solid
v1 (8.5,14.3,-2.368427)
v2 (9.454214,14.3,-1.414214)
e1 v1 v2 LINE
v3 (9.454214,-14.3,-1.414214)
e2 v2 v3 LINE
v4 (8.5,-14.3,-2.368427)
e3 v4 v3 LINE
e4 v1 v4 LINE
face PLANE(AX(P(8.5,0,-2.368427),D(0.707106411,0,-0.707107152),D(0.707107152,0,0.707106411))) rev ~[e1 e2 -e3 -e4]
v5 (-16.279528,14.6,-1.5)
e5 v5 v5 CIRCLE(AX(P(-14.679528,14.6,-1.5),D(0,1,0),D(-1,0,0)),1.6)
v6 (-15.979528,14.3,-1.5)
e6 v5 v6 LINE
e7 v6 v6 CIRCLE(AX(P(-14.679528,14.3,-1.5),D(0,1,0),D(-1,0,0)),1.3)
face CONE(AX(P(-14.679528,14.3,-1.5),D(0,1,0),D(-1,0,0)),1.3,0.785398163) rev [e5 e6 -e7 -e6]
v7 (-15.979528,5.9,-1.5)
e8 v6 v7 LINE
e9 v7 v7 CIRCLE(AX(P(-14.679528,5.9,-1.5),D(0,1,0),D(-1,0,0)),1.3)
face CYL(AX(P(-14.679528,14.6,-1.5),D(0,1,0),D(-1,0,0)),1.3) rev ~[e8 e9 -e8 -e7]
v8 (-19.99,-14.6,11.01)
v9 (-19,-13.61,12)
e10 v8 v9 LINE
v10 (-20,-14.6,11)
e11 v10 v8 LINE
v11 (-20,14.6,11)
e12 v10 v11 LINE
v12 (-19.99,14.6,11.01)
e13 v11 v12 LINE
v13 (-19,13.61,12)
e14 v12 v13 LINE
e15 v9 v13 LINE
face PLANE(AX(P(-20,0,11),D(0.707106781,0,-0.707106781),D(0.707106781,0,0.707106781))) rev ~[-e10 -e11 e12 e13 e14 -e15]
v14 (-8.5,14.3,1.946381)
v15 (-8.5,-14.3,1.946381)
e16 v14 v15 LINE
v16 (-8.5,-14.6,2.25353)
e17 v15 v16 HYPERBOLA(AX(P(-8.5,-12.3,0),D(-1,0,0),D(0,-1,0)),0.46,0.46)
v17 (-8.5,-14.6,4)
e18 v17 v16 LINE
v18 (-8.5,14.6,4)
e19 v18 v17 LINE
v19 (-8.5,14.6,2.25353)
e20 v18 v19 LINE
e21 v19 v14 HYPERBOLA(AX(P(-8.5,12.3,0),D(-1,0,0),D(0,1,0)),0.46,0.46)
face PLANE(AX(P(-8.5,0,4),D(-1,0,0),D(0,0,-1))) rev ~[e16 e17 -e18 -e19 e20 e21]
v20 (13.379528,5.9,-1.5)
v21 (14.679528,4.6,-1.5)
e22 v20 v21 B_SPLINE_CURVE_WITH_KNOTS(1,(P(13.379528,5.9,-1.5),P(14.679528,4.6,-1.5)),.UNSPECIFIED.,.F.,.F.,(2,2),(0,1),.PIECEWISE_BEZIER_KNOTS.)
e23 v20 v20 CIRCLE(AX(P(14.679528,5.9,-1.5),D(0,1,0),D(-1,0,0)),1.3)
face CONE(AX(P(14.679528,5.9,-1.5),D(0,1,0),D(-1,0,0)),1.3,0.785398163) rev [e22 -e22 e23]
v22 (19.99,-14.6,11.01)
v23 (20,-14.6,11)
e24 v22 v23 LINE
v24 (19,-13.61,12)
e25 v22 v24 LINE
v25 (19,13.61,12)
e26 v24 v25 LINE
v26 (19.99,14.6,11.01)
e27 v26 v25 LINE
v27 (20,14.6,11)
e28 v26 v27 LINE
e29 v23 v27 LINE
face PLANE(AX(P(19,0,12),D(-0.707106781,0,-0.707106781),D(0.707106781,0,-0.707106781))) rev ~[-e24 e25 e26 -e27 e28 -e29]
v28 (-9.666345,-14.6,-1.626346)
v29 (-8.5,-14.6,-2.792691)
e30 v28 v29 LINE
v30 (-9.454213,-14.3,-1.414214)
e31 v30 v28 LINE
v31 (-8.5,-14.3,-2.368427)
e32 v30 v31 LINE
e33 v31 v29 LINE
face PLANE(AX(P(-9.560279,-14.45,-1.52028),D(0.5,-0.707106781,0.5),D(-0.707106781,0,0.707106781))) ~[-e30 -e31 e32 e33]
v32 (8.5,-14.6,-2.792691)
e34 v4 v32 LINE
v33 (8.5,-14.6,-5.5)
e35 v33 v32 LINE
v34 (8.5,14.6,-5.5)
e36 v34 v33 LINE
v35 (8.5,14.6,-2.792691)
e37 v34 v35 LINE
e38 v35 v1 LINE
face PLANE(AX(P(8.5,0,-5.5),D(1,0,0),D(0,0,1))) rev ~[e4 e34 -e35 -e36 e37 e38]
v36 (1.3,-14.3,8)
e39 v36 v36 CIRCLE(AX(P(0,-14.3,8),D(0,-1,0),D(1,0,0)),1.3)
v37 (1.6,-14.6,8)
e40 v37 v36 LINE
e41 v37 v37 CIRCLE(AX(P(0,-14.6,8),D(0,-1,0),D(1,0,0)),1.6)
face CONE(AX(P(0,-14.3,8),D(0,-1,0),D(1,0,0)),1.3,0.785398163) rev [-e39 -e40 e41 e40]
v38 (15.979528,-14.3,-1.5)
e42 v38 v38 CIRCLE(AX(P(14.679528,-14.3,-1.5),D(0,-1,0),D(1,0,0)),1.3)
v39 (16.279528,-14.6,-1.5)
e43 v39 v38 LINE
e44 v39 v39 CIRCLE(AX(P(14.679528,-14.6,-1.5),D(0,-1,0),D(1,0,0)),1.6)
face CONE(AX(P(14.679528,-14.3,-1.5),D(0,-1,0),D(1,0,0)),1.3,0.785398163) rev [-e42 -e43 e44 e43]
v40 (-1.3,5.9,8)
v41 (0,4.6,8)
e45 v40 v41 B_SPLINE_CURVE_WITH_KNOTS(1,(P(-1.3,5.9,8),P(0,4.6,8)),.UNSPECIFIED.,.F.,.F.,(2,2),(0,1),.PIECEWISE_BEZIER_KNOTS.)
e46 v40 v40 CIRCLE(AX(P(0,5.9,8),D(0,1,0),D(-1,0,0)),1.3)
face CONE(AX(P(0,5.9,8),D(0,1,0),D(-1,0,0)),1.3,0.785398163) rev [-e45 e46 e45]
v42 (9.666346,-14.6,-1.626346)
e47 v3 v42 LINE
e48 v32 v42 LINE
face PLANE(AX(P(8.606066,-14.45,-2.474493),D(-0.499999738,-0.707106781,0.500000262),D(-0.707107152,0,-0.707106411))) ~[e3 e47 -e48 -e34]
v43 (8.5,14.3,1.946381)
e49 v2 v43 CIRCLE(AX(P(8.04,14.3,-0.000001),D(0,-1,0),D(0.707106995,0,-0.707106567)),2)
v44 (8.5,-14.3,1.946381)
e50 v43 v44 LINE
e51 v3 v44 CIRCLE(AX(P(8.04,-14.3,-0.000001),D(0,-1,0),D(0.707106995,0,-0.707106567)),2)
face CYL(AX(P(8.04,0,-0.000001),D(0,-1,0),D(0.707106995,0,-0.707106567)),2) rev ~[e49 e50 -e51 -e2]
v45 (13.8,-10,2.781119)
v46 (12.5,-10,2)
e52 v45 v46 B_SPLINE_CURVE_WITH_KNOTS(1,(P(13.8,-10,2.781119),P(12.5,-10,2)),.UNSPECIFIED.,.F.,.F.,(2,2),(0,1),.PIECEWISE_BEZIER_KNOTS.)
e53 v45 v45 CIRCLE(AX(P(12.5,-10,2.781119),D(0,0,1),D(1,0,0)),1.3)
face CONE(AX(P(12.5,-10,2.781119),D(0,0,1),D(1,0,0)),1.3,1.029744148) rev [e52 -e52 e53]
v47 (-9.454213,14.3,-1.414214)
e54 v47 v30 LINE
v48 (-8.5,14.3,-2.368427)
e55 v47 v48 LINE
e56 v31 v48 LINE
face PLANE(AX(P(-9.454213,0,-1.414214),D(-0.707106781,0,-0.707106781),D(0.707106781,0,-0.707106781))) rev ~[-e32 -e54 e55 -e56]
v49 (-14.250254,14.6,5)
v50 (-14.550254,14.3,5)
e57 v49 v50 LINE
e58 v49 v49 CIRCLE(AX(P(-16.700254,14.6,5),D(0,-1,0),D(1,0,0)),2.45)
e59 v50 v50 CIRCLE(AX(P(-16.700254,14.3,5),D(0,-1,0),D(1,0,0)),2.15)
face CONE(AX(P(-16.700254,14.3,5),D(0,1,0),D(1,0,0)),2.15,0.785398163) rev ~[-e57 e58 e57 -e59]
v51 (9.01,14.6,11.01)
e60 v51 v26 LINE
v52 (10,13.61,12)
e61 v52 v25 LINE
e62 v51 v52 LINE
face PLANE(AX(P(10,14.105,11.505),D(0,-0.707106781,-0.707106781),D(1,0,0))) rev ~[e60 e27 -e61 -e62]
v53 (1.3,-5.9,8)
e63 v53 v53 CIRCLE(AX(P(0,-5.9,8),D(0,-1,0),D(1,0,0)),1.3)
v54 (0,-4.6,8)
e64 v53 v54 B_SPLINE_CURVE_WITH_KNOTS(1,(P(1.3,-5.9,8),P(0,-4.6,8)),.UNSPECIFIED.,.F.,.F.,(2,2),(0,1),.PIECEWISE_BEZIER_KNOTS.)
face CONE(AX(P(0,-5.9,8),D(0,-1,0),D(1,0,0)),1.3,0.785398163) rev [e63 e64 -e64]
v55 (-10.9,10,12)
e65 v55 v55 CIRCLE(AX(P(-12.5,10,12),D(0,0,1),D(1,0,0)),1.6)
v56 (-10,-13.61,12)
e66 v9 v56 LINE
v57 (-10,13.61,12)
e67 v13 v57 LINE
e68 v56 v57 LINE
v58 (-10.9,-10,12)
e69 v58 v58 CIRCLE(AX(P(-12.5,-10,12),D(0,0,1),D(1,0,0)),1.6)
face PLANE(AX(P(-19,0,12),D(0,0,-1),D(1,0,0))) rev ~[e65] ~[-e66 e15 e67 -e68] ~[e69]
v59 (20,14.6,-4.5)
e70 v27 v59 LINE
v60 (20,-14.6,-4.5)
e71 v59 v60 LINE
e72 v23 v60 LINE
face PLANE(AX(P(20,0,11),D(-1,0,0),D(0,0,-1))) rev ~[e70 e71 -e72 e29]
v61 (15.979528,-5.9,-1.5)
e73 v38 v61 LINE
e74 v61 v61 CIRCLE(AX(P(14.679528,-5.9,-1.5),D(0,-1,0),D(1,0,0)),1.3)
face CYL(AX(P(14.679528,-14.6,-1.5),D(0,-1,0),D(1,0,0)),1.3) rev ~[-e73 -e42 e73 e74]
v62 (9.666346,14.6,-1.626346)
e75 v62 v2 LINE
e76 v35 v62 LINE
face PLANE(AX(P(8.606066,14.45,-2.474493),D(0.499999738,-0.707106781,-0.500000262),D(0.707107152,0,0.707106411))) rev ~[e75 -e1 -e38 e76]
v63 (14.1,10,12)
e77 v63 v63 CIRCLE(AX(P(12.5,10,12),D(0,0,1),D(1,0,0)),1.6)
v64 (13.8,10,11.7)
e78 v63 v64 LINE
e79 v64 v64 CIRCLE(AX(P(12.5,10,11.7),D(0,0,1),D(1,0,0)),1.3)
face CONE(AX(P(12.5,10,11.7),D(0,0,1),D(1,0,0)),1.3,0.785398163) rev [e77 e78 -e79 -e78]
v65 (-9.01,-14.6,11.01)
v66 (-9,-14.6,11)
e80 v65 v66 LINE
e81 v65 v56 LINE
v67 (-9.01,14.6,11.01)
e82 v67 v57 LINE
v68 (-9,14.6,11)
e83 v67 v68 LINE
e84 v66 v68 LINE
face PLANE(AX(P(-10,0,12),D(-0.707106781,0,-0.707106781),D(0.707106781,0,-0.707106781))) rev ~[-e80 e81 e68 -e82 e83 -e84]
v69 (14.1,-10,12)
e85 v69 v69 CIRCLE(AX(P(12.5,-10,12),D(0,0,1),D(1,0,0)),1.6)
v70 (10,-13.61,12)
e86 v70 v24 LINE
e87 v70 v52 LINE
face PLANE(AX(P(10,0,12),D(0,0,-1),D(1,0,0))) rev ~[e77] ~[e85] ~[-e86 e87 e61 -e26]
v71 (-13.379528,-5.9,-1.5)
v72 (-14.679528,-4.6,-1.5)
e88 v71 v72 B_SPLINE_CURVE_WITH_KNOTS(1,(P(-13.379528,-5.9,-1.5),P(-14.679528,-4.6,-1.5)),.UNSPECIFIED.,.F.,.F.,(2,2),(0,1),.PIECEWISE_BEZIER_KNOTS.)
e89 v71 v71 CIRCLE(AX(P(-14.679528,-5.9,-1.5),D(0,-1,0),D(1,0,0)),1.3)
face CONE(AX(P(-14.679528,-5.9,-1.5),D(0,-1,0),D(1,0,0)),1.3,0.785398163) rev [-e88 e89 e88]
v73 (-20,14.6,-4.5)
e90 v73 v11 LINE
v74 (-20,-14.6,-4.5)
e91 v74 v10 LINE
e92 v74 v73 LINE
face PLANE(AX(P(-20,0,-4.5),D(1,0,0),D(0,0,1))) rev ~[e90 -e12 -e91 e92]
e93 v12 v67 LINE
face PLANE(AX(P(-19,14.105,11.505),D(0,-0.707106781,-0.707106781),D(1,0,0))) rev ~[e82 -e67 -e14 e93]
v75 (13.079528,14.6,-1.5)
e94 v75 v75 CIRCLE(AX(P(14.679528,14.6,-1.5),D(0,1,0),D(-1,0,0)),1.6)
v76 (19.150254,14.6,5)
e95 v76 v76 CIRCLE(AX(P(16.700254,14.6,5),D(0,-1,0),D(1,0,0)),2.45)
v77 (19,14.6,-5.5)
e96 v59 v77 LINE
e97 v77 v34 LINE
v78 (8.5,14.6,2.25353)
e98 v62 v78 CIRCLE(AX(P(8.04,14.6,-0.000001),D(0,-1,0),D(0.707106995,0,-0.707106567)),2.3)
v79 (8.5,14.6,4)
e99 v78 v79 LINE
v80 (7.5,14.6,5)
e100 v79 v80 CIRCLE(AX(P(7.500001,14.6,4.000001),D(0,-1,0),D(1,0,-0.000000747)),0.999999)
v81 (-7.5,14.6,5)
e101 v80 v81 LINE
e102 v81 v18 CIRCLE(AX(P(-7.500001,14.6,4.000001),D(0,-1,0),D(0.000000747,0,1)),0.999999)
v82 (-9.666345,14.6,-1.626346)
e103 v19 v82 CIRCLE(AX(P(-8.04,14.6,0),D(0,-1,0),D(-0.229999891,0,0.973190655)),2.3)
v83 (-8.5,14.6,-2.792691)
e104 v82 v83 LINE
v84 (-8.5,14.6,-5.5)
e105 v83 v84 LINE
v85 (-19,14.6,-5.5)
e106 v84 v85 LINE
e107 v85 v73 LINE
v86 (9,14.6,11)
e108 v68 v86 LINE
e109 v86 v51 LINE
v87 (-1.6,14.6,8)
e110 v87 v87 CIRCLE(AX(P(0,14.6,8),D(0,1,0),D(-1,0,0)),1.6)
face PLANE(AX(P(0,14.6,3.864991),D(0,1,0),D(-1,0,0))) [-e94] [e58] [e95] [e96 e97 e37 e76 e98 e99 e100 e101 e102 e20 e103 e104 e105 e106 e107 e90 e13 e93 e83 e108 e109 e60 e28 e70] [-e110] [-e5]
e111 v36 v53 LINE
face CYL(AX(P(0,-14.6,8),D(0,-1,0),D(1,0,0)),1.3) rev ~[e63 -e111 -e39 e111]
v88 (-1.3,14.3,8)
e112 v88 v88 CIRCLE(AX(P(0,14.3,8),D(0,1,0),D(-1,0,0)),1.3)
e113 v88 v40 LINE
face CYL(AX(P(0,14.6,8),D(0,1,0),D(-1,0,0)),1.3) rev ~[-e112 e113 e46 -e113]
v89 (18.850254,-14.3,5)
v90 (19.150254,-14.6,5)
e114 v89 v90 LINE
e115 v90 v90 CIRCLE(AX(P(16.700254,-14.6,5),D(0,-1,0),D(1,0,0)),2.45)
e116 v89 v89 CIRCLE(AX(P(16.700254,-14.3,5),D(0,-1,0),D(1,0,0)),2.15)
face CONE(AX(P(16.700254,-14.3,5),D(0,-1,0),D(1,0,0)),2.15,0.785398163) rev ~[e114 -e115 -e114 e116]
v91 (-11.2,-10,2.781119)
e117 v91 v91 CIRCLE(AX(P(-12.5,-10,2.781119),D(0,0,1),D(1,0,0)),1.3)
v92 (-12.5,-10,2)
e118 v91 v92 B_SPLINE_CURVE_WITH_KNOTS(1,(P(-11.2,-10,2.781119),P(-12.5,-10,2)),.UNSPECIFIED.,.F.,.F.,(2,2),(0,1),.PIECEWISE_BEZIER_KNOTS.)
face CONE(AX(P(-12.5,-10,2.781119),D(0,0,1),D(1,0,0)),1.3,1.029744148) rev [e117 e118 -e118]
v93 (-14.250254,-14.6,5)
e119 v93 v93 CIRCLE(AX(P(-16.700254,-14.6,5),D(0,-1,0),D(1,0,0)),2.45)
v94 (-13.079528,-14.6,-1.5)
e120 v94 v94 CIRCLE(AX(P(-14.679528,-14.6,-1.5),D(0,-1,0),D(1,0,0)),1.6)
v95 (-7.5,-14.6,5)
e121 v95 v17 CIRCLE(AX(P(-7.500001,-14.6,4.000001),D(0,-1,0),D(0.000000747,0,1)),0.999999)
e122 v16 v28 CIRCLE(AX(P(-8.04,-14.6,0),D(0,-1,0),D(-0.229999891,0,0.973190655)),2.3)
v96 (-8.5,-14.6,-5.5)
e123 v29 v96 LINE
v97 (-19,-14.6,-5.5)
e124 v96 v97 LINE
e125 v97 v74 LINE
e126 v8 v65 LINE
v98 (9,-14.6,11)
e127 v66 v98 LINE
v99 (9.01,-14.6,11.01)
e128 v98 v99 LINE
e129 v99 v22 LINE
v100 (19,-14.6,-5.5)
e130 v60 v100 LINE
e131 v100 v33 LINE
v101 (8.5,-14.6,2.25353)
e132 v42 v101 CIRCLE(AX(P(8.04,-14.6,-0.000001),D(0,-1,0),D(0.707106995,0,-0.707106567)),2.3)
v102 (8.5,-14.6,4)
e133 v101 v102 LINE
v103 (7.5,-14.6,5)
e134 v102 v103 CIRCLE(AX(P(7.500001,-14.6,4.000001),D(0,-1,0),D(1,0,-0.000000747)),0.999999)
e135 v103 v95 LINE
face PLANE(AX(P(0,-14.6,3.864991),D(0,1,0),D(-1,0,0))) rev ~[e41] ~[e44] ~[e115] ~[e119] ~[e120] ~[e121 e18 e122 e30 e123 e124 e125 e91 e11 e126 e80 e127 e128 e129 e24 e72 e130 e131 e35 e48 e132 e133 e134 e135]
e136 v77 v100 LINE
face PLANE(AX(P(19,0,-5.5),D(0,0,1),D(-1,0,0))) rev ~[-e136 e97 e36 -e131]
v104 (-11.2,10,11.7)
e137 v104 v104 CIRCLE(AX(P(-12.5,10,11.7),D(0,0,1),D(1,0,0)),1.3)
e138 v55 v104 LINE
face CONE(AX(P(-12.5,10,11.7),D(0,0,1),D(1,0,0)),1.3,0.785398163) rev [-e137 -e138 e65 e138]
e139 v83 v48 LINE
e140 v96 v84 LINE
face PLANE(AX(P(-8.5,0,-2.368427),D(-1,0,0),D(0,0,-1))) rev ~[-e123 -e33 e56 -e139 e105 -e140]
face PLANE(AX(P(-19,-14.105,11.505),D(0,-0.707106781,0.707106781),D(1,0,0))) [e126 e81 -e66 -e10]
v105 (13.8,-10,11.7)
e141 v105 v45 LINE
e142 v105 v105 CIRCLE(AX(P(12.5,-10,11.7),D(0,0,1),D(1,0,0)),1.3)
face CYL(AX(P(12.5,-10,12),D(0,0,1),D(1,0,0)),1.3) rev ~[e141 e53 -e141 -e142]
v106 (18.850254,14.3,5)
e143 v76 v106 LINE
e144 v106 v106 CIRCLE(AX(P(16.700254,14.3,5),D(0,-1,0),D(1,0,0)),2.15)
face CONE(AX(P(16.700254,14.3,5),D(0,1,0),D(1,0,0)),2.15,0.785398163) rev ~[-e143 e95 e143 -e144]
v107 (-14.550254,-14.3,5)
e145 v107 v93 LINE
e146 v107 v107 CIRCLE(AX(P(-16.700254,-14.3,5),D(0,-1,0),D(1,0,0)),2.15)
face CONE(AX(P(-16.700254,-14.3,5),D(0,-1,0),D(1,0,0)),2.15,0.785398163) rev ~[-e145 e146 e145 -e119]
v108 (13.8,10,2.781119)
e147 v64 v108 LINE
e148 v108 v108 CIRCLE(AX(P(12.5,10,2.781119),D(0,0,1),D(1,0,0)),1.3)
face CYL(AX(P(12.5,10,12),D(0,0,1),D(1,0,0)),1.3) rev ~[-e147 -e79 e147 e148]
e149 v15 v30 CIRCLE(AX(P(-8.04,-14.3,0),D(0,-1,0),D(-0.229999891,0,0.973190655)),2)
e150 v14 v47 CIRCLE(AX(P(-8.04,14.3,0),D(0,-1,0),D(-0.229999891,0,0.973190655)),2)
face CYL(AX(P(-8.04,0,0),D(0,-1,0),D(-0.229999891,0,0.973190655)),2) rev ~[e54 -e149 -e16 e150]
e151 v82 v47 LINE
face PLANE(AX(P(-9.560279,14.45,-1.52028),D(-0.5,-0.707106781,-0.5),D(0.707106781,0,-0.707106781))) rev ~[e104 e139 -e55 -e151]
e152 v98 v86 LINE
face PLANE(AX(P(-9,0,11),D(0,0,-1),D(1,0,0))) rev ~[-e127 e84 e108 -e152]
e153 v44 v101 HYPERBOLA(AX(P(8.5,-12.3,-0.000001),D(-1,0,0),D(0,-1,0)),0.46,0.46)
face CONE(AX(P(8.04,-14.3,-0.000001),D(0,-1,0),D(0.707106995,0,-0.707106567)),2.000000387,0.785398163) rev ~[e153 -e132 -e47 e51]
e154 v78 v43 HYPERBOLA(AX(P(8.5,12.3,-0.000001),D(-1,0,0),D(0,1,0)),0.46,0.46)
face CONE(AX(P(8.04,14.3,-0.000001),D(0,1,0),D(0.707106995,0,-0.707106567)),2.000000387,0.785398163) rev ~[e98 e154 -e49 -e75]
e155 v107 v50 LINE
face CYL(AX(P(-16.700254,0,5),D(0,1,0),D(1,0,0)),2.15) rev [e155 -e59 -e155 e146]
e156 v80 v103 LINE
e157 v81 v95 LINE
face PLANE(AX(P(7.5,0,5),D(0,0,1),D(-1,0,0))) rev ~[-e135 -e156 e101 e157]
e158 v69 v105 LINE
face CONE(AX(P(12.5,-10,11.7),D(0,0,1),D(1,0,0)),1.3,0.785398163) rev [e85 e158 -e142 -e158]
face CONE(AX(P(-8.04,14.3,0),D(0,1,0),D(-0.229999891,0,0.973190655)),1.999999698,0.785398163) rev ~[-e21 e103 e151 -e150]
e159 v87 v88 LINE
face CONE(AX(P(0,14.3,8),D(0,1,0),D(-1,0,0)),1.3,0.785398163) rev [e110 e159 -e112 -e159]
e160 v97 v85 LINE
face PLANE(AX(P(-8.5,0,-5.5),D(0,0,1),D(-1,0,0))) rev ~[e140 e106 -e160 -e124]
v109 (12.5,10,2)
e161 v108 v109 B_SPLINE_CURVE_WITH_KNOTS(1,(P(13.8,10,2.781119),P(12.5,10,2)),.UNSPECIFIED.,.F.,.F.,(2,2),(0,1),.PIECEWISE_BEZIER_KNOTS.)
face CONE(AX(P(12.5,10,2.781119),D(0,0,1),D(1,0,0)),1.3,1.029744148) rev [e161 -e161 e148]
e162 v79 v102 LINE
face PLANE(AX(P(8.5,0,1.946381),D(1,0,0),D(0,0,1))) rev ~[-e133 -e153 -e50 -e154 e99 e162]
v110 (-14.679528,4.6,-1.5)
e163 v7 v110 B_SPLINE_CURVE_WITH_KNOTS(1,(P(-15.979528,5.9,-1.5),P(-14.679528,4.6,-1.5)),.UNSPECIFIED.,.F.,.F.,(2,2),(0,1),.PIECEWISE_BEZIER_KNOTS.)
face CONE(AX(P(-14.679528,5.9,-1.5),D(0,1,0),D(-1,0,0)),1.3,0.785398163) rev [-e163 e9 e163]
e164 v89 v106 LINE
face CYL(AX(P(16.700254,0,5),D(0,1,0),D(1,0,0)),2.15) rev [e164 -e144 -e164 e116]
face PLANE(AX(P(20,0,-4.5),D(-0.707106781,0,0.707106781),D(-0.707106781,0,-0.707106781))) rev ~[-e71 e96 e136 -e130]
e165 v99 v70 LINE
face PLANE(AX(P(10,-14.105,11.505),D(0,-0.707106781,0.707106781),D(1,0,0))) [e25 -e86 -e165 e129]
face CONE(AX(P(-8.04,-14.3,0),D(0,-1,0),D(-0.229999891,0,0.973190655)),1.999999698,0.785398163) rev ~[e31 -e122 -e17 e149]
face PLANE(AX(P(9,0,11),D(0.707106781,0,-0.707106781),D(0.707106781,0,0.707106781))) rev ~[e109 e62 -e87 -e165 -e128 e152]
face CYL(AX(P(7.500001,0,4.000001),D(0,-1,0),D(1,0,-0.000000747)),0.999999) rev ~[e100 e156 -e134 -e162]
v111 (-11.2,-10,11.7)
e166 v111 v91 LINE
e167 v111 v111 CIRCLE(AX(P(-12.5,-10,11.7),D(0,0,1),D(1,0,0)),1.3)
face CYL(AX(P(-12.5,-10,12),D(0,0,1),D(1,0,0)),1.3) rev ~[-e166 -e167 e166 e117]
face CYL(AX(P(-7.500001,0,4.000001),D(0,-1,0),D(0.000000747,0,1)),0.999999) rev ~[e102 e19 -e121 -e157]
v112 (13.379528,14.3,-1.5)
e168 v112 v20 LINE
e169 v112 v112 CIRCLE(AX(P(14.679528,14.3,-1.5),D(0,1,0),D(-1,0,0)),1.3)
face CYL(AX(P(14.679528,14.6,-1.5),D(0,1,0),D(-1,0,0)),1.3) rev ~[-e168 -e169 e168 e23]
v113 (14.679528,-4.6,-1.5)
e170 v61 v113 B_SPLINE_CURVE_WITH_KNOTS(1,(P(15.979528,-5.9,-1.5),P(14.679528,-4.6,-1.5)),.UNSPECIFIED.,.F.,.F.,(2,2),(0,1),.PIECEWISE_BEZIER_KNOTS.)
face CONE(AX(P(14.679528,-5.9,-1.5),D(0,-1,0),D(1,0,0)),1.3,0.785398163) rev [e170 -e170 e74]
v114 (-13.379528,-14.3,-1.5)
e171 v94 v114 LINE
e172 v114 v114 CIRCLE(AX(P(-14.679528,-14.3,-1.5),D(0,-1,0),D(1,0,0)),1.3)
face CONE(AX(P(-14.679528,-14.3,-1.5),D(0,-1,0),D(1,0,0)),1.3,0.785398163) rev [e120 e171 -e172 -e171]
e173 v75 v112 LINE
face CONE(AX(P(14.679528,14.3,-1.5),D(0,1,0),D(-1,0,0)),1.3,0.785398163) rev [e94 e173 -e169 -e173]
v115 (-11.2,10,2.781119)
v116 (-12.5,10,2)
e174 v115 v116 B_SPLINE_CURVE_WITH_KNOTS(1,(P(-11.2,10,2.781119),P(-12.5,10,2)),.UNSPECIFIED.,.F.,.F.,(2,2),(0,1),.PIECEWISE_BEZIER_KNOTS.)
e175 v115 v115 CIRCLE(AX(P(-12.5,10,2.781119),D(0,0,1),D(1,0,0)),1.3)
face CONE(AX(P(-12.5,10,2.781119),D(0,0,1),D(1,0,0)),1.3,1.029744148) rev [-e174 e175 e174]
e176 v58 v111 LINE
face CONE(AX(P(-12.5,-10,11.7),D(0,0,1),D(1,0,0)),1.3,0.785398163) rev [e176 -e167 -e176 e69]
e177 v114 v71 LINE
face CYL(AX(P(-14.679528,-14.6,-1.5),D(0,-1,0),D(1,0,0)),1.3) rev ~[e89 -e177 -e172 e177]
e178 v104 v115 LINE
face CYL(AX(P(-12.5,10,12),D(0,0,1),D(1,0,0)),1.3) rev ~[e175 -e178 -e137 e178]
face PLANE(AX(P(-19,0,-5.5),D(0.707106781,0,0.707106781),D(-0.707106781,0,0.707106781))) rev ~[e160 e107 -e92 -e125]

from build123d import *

# Parameters (mm, degrees)
SKETCH034_R     = 2.15
PAD006_DEPTH    = 14.6
SKETCH035_R     = 1.3
HOLE_DEPTH      = 8.7
HOLE_TIPS_R     = 1.3
SKETCH036_R     = 1.3
HOLE001_DEPTH   = 8.7
HOLE001_TIPS_R  = 1.3
SKETCH037_R     = 1.3
HOLE002_DEPTH   = 9.218881
HOLE002_TIPS_R  = 1.3
CHAMFER_SIZE    = 0.99
CHAMFER011_SIZE = 0.3


with BuildPart() as part:
    # Sketch034 → Pad006 (new body, symmetric)
    with BuildSketch(Plane.XZ):
        with BuildLine():
            Line((-9.454213, -1.414214), (-8.5, -2.368427))
            Line((-8.5, -2.368427), (-8.5, -5.5))
            Line((-8.5, -5.5), (-19, -5.5))
            Line((-19, -5.5), (-20, -4.5))
            Line((-20, -4.5), (-20, 11))
            Line((-20, 11), (-19, 12))
            Line((-19, 12), (-10, 12))
            Line((-10, 12), (-9, 11))
            Line((-9, 11), (9, 11))
            Line((9, 11), (10, 12))
            Line((10, 12), (19, 12))
            Line((19, 12), (20, 11))
            Line((20, 11), (20, -4.5))
            Line((20, -4.5), (19, -5.5))
            Line((19, -5.5), (8.5, -5.5))
            Line((8.5, -5.5), (8.5, -2.368427))
            Line((8.5, -2.368427), (9.454214, -1.414214))
            ThreePointArc((9.454214, -1.414214), (9.963946, 0.546289), (8.5, 1.946381))
            Line((8.5, 1.946381), (8.5, 4))
            ThreePointArc((8.5, 4), (8.207107, 4.707107), (7.5, 5))
            Line((7.5, 5), (-7.5, 5))
            ThreePointArc((-7.5, 5), (-8.207107, 4.707107), (-8.5, 4))
            Line((-8.5, 4), (-8.5, 1.946381))
            ThreePointArc((-8.5, 1.946381), (-9.963946, 0.546289), (-9.454213, -1.414214))
        make_face()
        with Locations((-16.700254, 5)):
            Circle(SKETCH034_R, mode=Mode.SUBTRACT)
        with Locations((16.700254, 5)):
            Circle(SKETCH034_R, mode=Mode.SUBTRACT)
    extrude(amount=PAD006_DEPTH, both=True)

    # Sketch035 → Hole (cut)
    with BuildSketch(Plane.XZ.offset(14.6)):
        with Locations((-14.679528, -1.5)):
            Circle(SKETCH035_R)
        with Locations((14.679528, -1.5)):
            Circle(SKETCH035_R)
        with Locations((0, 8)):
            Circle(SKETCH035_R)
    extrude(amount=-HOLE_DEPTH, mode=Mode.SUBTRACT)

    # Hole tips → Hole tip 1 section 0
    with BuildSketch(Plane.XZ.offset(5.9), mode=Mode.PRIVATE) as hole_tip_1_s0:
        with Locations((-14.679528, -1.5)):
            Circle(HOLE_TIPS_R)
    loft([hole_tip_1_s0.sketch, Vertex(-14.679528, -4.6, -1.5)], mode=Mode.SUBTRACT)

    # Hole tips → Hole tip 2 section 0
    with BuildSketch(Plane.XZ.offset(5.9), mode=Mode.PRIVATE) as hole_tip_2_s0:
        with Locations((14.679528, -1.5)):
            Circle(HOLE_TIPS_R)
    loft([hole_tip_2_s0.sketch, Vertex(14.679528, -4.6, -1.5)], mode=Mode.SUBTRACT)

    # Hole tips → Hole tip 3 section 0
    with BuildSketch(Plane.XZ.offset(5.9), mode=Mode.PRIVATE) as hole_tip_3_s0:
        with Locations((0, 8)):
            Circle(HOLE_TIPS_R)
    loft([hole_tip_3_s0.sketch, Vertex(0, -4.6, 8)], mode=Mode.SUBTRACT)

    # Sketch036 → Hole001 (cut)
    with BuildSketch(Plane(origin=(0, 14.6, 0), x_dir=(-1, 0, 0), z_dir=(0, 1, 0))):
        with Locations((14.679528, -1.5)):
            Circle(SKETCH036_R)
        with Locations((-14.679528, -1.5)):
            Circle(SKETCH036_R)
        with Locations((0, 8)):
            Circle(SKETCH036_R)
    extrude(amount=-HOLE001_DEPTH, mode=Mode.SUBTRACT)

    # Hole001 tips → Hole001 tip 1 section 0
    with BuildSketch(Plane(origin=(0, 5.9, 0), x_dir=(-1, 0, 0), z_dir=(0, 1, 0)), mode=Mode.PRIVATE) as hole001_tip_1_s0:
        with Locations((14.679528, -1.5)):
            Circle(HOLE001_TIPS_R)
    loft([hole001_tip_1_s0.sketch, Vertex(-14.679528, 4.6, -1.5)], mode=Mode.SUBTRACT)

    # Hole001 tips → Hole001 tip 2 section 0
    with BuildSketch(Plane(origin=(0, 5.9, 0), x_dir=(-1, 0, 0), z_dir=(0, 1, 0)), mode=Mode.PRIVATE) as hole001_tip_2_s0:
        with Locations((-14.679528, -1.5)):
            Circle(HOLE001_TIPS_R)
    loft([hole001_tip_2_s0.sketch, Vertex(14.679528, 4.6, -1.5)], mode=Mode.SUBTRACT)

    # Hole001 tips → Hole001 tip 3 section 0
    with BuildSketch(Plane(origin=(0, 5.9, 0), x_dir=(-1, 0, 0), z_dir=(0, 1, 0)), mode=Mode.PRIVATE) as hole001_tip_3_s0:
        with Locations((0, 8)):
            Circle(HOLE001_TIPS_R)
    loft([hole001_tip_3_s0.sketch, Vertex(0, 4.6, 8)], mode=Mode.SUBTRACT)

    # Sketch037 → Hole002 (cut)
    with BuildSketch(Plane.XY.offset(12)):
        with Locations((-12.5, 10)):
            Circle(SKETCH037_R)
        with Locations((12.5, 10)):
            Circle(SKETCH037_R)
        with Locations((12.5, -10)):
            Circle(SKETCH037_R)
        with Locations((-12.5, -10)):
            Circle(SKETCH037_R)
    extrude(amount=-HOLE002_DEPTH, mode=Mode.SUBTRACT)

    # Hole002 tips → Hole002 tip 1 section 0
    with BuildSketch(Plane.XY.offset(2.781119), mode=Mode.PRIVATE) as hole002_tip_1_s0:
        with Locations((-12.5, 10)):
            Circle(HOLE002_TIPS_R)
    loft([hole002_tip_1_s0.sketch, Vertex(-12.5, 10, 2)], mode=Mode.SUBTRACT)

    # Hole002 tips → Hole002 tip 2 section 0
    with BuildSketch(Plane.XY.offset(2.781119), mode=Mode.PRIVATE) as hole002_tip_2_s0:
        with Locations((12.5, 10)):
            Circle(HOLE002_TIPS_R)
    loft([hole002_tip_2_s0.sketch, Vertex(12.5, 10, 2)], mode=Mode.SUBTRACT)

    # Hole002 tips → Hole002 tip 3 section 0
    with BuildSketch(Plane.XY.offset(2.781119), mode=Mode.PRIVATE) as hole002_tip_3_s0:
        with Locations((12.5, -10)):
            Circle(HOLE002_TIPS_R)
    loft([hole002_tip_3_s0.sketch, Vertex(12.5, -10, 2)], mode=Mode.SUBTRACT)

    # Hole002 tips → Hole002 tip 4 section 0
    with BuildSketch(Plane.XY.offset(2.781119), mode=Mode.PRIVATE) as hole002_tip_4_s0:
        with Locations((-12.5, -10)):
            Circle(HOLE002_TIPS_R)
    loft([hole002_tip_4_s0.sketch, Vertex(-12.5, -10, 2)], mode=Mode.SUBTRACT)

    # Chamfer
    chamfer_edges = [part.edges().sort_by_distance(p)[0] for p in [
        (14.5, 14.6, 12),
        (-14.5, 14.6, 12),
        (-14.5, -14.6, 12),
        (14.5, -14.6, 12),
    ]]
    chamfer(chamfer_edges, length=CHAMFER_SIZE)

    # Chamfer011
    chamfer011_edges = [part.edges().sort_by_distance(p)[0] for p in [
        (-13.8, -10, 12),
        (-13.8, 10, 12),
        (11.2, 10, 12),
        (11.2, -10, 12),
        (13.379528, -14.6, -1.5),
        (-15.979528, -14.6, -1.5),
        (-1.3, -14.6, 8),
        (8.977107, -14.6, -1.89132),
        (9.963946, -14.6, 0.546289),
        (-8.977107, -14.6, -1.89132),
        (-9.963946, -14.6, 0.546289),
        (14.550254, -14.6, 5),
        (-18.850254, -14.6, 5),
        (-8.977107, 14.6, -1.89132),
        (-9.963946, 14.6, 0.546289),
        (8.977107, 14.6, -1.89132),
        (9.963946, 14.6, 0.546289),
        (15.979528, 14.6, -1.5),
        (1.3, 14.6, 8),
        (-13.379528, 14.6, -1.5),
        (-18.850254, 14.6, 5),
        (14.550254, 14.6, 5),
    ]]
    chamfer(chamfer011_edges, length=CHAMFER011_SIZE)


solid = part.part
